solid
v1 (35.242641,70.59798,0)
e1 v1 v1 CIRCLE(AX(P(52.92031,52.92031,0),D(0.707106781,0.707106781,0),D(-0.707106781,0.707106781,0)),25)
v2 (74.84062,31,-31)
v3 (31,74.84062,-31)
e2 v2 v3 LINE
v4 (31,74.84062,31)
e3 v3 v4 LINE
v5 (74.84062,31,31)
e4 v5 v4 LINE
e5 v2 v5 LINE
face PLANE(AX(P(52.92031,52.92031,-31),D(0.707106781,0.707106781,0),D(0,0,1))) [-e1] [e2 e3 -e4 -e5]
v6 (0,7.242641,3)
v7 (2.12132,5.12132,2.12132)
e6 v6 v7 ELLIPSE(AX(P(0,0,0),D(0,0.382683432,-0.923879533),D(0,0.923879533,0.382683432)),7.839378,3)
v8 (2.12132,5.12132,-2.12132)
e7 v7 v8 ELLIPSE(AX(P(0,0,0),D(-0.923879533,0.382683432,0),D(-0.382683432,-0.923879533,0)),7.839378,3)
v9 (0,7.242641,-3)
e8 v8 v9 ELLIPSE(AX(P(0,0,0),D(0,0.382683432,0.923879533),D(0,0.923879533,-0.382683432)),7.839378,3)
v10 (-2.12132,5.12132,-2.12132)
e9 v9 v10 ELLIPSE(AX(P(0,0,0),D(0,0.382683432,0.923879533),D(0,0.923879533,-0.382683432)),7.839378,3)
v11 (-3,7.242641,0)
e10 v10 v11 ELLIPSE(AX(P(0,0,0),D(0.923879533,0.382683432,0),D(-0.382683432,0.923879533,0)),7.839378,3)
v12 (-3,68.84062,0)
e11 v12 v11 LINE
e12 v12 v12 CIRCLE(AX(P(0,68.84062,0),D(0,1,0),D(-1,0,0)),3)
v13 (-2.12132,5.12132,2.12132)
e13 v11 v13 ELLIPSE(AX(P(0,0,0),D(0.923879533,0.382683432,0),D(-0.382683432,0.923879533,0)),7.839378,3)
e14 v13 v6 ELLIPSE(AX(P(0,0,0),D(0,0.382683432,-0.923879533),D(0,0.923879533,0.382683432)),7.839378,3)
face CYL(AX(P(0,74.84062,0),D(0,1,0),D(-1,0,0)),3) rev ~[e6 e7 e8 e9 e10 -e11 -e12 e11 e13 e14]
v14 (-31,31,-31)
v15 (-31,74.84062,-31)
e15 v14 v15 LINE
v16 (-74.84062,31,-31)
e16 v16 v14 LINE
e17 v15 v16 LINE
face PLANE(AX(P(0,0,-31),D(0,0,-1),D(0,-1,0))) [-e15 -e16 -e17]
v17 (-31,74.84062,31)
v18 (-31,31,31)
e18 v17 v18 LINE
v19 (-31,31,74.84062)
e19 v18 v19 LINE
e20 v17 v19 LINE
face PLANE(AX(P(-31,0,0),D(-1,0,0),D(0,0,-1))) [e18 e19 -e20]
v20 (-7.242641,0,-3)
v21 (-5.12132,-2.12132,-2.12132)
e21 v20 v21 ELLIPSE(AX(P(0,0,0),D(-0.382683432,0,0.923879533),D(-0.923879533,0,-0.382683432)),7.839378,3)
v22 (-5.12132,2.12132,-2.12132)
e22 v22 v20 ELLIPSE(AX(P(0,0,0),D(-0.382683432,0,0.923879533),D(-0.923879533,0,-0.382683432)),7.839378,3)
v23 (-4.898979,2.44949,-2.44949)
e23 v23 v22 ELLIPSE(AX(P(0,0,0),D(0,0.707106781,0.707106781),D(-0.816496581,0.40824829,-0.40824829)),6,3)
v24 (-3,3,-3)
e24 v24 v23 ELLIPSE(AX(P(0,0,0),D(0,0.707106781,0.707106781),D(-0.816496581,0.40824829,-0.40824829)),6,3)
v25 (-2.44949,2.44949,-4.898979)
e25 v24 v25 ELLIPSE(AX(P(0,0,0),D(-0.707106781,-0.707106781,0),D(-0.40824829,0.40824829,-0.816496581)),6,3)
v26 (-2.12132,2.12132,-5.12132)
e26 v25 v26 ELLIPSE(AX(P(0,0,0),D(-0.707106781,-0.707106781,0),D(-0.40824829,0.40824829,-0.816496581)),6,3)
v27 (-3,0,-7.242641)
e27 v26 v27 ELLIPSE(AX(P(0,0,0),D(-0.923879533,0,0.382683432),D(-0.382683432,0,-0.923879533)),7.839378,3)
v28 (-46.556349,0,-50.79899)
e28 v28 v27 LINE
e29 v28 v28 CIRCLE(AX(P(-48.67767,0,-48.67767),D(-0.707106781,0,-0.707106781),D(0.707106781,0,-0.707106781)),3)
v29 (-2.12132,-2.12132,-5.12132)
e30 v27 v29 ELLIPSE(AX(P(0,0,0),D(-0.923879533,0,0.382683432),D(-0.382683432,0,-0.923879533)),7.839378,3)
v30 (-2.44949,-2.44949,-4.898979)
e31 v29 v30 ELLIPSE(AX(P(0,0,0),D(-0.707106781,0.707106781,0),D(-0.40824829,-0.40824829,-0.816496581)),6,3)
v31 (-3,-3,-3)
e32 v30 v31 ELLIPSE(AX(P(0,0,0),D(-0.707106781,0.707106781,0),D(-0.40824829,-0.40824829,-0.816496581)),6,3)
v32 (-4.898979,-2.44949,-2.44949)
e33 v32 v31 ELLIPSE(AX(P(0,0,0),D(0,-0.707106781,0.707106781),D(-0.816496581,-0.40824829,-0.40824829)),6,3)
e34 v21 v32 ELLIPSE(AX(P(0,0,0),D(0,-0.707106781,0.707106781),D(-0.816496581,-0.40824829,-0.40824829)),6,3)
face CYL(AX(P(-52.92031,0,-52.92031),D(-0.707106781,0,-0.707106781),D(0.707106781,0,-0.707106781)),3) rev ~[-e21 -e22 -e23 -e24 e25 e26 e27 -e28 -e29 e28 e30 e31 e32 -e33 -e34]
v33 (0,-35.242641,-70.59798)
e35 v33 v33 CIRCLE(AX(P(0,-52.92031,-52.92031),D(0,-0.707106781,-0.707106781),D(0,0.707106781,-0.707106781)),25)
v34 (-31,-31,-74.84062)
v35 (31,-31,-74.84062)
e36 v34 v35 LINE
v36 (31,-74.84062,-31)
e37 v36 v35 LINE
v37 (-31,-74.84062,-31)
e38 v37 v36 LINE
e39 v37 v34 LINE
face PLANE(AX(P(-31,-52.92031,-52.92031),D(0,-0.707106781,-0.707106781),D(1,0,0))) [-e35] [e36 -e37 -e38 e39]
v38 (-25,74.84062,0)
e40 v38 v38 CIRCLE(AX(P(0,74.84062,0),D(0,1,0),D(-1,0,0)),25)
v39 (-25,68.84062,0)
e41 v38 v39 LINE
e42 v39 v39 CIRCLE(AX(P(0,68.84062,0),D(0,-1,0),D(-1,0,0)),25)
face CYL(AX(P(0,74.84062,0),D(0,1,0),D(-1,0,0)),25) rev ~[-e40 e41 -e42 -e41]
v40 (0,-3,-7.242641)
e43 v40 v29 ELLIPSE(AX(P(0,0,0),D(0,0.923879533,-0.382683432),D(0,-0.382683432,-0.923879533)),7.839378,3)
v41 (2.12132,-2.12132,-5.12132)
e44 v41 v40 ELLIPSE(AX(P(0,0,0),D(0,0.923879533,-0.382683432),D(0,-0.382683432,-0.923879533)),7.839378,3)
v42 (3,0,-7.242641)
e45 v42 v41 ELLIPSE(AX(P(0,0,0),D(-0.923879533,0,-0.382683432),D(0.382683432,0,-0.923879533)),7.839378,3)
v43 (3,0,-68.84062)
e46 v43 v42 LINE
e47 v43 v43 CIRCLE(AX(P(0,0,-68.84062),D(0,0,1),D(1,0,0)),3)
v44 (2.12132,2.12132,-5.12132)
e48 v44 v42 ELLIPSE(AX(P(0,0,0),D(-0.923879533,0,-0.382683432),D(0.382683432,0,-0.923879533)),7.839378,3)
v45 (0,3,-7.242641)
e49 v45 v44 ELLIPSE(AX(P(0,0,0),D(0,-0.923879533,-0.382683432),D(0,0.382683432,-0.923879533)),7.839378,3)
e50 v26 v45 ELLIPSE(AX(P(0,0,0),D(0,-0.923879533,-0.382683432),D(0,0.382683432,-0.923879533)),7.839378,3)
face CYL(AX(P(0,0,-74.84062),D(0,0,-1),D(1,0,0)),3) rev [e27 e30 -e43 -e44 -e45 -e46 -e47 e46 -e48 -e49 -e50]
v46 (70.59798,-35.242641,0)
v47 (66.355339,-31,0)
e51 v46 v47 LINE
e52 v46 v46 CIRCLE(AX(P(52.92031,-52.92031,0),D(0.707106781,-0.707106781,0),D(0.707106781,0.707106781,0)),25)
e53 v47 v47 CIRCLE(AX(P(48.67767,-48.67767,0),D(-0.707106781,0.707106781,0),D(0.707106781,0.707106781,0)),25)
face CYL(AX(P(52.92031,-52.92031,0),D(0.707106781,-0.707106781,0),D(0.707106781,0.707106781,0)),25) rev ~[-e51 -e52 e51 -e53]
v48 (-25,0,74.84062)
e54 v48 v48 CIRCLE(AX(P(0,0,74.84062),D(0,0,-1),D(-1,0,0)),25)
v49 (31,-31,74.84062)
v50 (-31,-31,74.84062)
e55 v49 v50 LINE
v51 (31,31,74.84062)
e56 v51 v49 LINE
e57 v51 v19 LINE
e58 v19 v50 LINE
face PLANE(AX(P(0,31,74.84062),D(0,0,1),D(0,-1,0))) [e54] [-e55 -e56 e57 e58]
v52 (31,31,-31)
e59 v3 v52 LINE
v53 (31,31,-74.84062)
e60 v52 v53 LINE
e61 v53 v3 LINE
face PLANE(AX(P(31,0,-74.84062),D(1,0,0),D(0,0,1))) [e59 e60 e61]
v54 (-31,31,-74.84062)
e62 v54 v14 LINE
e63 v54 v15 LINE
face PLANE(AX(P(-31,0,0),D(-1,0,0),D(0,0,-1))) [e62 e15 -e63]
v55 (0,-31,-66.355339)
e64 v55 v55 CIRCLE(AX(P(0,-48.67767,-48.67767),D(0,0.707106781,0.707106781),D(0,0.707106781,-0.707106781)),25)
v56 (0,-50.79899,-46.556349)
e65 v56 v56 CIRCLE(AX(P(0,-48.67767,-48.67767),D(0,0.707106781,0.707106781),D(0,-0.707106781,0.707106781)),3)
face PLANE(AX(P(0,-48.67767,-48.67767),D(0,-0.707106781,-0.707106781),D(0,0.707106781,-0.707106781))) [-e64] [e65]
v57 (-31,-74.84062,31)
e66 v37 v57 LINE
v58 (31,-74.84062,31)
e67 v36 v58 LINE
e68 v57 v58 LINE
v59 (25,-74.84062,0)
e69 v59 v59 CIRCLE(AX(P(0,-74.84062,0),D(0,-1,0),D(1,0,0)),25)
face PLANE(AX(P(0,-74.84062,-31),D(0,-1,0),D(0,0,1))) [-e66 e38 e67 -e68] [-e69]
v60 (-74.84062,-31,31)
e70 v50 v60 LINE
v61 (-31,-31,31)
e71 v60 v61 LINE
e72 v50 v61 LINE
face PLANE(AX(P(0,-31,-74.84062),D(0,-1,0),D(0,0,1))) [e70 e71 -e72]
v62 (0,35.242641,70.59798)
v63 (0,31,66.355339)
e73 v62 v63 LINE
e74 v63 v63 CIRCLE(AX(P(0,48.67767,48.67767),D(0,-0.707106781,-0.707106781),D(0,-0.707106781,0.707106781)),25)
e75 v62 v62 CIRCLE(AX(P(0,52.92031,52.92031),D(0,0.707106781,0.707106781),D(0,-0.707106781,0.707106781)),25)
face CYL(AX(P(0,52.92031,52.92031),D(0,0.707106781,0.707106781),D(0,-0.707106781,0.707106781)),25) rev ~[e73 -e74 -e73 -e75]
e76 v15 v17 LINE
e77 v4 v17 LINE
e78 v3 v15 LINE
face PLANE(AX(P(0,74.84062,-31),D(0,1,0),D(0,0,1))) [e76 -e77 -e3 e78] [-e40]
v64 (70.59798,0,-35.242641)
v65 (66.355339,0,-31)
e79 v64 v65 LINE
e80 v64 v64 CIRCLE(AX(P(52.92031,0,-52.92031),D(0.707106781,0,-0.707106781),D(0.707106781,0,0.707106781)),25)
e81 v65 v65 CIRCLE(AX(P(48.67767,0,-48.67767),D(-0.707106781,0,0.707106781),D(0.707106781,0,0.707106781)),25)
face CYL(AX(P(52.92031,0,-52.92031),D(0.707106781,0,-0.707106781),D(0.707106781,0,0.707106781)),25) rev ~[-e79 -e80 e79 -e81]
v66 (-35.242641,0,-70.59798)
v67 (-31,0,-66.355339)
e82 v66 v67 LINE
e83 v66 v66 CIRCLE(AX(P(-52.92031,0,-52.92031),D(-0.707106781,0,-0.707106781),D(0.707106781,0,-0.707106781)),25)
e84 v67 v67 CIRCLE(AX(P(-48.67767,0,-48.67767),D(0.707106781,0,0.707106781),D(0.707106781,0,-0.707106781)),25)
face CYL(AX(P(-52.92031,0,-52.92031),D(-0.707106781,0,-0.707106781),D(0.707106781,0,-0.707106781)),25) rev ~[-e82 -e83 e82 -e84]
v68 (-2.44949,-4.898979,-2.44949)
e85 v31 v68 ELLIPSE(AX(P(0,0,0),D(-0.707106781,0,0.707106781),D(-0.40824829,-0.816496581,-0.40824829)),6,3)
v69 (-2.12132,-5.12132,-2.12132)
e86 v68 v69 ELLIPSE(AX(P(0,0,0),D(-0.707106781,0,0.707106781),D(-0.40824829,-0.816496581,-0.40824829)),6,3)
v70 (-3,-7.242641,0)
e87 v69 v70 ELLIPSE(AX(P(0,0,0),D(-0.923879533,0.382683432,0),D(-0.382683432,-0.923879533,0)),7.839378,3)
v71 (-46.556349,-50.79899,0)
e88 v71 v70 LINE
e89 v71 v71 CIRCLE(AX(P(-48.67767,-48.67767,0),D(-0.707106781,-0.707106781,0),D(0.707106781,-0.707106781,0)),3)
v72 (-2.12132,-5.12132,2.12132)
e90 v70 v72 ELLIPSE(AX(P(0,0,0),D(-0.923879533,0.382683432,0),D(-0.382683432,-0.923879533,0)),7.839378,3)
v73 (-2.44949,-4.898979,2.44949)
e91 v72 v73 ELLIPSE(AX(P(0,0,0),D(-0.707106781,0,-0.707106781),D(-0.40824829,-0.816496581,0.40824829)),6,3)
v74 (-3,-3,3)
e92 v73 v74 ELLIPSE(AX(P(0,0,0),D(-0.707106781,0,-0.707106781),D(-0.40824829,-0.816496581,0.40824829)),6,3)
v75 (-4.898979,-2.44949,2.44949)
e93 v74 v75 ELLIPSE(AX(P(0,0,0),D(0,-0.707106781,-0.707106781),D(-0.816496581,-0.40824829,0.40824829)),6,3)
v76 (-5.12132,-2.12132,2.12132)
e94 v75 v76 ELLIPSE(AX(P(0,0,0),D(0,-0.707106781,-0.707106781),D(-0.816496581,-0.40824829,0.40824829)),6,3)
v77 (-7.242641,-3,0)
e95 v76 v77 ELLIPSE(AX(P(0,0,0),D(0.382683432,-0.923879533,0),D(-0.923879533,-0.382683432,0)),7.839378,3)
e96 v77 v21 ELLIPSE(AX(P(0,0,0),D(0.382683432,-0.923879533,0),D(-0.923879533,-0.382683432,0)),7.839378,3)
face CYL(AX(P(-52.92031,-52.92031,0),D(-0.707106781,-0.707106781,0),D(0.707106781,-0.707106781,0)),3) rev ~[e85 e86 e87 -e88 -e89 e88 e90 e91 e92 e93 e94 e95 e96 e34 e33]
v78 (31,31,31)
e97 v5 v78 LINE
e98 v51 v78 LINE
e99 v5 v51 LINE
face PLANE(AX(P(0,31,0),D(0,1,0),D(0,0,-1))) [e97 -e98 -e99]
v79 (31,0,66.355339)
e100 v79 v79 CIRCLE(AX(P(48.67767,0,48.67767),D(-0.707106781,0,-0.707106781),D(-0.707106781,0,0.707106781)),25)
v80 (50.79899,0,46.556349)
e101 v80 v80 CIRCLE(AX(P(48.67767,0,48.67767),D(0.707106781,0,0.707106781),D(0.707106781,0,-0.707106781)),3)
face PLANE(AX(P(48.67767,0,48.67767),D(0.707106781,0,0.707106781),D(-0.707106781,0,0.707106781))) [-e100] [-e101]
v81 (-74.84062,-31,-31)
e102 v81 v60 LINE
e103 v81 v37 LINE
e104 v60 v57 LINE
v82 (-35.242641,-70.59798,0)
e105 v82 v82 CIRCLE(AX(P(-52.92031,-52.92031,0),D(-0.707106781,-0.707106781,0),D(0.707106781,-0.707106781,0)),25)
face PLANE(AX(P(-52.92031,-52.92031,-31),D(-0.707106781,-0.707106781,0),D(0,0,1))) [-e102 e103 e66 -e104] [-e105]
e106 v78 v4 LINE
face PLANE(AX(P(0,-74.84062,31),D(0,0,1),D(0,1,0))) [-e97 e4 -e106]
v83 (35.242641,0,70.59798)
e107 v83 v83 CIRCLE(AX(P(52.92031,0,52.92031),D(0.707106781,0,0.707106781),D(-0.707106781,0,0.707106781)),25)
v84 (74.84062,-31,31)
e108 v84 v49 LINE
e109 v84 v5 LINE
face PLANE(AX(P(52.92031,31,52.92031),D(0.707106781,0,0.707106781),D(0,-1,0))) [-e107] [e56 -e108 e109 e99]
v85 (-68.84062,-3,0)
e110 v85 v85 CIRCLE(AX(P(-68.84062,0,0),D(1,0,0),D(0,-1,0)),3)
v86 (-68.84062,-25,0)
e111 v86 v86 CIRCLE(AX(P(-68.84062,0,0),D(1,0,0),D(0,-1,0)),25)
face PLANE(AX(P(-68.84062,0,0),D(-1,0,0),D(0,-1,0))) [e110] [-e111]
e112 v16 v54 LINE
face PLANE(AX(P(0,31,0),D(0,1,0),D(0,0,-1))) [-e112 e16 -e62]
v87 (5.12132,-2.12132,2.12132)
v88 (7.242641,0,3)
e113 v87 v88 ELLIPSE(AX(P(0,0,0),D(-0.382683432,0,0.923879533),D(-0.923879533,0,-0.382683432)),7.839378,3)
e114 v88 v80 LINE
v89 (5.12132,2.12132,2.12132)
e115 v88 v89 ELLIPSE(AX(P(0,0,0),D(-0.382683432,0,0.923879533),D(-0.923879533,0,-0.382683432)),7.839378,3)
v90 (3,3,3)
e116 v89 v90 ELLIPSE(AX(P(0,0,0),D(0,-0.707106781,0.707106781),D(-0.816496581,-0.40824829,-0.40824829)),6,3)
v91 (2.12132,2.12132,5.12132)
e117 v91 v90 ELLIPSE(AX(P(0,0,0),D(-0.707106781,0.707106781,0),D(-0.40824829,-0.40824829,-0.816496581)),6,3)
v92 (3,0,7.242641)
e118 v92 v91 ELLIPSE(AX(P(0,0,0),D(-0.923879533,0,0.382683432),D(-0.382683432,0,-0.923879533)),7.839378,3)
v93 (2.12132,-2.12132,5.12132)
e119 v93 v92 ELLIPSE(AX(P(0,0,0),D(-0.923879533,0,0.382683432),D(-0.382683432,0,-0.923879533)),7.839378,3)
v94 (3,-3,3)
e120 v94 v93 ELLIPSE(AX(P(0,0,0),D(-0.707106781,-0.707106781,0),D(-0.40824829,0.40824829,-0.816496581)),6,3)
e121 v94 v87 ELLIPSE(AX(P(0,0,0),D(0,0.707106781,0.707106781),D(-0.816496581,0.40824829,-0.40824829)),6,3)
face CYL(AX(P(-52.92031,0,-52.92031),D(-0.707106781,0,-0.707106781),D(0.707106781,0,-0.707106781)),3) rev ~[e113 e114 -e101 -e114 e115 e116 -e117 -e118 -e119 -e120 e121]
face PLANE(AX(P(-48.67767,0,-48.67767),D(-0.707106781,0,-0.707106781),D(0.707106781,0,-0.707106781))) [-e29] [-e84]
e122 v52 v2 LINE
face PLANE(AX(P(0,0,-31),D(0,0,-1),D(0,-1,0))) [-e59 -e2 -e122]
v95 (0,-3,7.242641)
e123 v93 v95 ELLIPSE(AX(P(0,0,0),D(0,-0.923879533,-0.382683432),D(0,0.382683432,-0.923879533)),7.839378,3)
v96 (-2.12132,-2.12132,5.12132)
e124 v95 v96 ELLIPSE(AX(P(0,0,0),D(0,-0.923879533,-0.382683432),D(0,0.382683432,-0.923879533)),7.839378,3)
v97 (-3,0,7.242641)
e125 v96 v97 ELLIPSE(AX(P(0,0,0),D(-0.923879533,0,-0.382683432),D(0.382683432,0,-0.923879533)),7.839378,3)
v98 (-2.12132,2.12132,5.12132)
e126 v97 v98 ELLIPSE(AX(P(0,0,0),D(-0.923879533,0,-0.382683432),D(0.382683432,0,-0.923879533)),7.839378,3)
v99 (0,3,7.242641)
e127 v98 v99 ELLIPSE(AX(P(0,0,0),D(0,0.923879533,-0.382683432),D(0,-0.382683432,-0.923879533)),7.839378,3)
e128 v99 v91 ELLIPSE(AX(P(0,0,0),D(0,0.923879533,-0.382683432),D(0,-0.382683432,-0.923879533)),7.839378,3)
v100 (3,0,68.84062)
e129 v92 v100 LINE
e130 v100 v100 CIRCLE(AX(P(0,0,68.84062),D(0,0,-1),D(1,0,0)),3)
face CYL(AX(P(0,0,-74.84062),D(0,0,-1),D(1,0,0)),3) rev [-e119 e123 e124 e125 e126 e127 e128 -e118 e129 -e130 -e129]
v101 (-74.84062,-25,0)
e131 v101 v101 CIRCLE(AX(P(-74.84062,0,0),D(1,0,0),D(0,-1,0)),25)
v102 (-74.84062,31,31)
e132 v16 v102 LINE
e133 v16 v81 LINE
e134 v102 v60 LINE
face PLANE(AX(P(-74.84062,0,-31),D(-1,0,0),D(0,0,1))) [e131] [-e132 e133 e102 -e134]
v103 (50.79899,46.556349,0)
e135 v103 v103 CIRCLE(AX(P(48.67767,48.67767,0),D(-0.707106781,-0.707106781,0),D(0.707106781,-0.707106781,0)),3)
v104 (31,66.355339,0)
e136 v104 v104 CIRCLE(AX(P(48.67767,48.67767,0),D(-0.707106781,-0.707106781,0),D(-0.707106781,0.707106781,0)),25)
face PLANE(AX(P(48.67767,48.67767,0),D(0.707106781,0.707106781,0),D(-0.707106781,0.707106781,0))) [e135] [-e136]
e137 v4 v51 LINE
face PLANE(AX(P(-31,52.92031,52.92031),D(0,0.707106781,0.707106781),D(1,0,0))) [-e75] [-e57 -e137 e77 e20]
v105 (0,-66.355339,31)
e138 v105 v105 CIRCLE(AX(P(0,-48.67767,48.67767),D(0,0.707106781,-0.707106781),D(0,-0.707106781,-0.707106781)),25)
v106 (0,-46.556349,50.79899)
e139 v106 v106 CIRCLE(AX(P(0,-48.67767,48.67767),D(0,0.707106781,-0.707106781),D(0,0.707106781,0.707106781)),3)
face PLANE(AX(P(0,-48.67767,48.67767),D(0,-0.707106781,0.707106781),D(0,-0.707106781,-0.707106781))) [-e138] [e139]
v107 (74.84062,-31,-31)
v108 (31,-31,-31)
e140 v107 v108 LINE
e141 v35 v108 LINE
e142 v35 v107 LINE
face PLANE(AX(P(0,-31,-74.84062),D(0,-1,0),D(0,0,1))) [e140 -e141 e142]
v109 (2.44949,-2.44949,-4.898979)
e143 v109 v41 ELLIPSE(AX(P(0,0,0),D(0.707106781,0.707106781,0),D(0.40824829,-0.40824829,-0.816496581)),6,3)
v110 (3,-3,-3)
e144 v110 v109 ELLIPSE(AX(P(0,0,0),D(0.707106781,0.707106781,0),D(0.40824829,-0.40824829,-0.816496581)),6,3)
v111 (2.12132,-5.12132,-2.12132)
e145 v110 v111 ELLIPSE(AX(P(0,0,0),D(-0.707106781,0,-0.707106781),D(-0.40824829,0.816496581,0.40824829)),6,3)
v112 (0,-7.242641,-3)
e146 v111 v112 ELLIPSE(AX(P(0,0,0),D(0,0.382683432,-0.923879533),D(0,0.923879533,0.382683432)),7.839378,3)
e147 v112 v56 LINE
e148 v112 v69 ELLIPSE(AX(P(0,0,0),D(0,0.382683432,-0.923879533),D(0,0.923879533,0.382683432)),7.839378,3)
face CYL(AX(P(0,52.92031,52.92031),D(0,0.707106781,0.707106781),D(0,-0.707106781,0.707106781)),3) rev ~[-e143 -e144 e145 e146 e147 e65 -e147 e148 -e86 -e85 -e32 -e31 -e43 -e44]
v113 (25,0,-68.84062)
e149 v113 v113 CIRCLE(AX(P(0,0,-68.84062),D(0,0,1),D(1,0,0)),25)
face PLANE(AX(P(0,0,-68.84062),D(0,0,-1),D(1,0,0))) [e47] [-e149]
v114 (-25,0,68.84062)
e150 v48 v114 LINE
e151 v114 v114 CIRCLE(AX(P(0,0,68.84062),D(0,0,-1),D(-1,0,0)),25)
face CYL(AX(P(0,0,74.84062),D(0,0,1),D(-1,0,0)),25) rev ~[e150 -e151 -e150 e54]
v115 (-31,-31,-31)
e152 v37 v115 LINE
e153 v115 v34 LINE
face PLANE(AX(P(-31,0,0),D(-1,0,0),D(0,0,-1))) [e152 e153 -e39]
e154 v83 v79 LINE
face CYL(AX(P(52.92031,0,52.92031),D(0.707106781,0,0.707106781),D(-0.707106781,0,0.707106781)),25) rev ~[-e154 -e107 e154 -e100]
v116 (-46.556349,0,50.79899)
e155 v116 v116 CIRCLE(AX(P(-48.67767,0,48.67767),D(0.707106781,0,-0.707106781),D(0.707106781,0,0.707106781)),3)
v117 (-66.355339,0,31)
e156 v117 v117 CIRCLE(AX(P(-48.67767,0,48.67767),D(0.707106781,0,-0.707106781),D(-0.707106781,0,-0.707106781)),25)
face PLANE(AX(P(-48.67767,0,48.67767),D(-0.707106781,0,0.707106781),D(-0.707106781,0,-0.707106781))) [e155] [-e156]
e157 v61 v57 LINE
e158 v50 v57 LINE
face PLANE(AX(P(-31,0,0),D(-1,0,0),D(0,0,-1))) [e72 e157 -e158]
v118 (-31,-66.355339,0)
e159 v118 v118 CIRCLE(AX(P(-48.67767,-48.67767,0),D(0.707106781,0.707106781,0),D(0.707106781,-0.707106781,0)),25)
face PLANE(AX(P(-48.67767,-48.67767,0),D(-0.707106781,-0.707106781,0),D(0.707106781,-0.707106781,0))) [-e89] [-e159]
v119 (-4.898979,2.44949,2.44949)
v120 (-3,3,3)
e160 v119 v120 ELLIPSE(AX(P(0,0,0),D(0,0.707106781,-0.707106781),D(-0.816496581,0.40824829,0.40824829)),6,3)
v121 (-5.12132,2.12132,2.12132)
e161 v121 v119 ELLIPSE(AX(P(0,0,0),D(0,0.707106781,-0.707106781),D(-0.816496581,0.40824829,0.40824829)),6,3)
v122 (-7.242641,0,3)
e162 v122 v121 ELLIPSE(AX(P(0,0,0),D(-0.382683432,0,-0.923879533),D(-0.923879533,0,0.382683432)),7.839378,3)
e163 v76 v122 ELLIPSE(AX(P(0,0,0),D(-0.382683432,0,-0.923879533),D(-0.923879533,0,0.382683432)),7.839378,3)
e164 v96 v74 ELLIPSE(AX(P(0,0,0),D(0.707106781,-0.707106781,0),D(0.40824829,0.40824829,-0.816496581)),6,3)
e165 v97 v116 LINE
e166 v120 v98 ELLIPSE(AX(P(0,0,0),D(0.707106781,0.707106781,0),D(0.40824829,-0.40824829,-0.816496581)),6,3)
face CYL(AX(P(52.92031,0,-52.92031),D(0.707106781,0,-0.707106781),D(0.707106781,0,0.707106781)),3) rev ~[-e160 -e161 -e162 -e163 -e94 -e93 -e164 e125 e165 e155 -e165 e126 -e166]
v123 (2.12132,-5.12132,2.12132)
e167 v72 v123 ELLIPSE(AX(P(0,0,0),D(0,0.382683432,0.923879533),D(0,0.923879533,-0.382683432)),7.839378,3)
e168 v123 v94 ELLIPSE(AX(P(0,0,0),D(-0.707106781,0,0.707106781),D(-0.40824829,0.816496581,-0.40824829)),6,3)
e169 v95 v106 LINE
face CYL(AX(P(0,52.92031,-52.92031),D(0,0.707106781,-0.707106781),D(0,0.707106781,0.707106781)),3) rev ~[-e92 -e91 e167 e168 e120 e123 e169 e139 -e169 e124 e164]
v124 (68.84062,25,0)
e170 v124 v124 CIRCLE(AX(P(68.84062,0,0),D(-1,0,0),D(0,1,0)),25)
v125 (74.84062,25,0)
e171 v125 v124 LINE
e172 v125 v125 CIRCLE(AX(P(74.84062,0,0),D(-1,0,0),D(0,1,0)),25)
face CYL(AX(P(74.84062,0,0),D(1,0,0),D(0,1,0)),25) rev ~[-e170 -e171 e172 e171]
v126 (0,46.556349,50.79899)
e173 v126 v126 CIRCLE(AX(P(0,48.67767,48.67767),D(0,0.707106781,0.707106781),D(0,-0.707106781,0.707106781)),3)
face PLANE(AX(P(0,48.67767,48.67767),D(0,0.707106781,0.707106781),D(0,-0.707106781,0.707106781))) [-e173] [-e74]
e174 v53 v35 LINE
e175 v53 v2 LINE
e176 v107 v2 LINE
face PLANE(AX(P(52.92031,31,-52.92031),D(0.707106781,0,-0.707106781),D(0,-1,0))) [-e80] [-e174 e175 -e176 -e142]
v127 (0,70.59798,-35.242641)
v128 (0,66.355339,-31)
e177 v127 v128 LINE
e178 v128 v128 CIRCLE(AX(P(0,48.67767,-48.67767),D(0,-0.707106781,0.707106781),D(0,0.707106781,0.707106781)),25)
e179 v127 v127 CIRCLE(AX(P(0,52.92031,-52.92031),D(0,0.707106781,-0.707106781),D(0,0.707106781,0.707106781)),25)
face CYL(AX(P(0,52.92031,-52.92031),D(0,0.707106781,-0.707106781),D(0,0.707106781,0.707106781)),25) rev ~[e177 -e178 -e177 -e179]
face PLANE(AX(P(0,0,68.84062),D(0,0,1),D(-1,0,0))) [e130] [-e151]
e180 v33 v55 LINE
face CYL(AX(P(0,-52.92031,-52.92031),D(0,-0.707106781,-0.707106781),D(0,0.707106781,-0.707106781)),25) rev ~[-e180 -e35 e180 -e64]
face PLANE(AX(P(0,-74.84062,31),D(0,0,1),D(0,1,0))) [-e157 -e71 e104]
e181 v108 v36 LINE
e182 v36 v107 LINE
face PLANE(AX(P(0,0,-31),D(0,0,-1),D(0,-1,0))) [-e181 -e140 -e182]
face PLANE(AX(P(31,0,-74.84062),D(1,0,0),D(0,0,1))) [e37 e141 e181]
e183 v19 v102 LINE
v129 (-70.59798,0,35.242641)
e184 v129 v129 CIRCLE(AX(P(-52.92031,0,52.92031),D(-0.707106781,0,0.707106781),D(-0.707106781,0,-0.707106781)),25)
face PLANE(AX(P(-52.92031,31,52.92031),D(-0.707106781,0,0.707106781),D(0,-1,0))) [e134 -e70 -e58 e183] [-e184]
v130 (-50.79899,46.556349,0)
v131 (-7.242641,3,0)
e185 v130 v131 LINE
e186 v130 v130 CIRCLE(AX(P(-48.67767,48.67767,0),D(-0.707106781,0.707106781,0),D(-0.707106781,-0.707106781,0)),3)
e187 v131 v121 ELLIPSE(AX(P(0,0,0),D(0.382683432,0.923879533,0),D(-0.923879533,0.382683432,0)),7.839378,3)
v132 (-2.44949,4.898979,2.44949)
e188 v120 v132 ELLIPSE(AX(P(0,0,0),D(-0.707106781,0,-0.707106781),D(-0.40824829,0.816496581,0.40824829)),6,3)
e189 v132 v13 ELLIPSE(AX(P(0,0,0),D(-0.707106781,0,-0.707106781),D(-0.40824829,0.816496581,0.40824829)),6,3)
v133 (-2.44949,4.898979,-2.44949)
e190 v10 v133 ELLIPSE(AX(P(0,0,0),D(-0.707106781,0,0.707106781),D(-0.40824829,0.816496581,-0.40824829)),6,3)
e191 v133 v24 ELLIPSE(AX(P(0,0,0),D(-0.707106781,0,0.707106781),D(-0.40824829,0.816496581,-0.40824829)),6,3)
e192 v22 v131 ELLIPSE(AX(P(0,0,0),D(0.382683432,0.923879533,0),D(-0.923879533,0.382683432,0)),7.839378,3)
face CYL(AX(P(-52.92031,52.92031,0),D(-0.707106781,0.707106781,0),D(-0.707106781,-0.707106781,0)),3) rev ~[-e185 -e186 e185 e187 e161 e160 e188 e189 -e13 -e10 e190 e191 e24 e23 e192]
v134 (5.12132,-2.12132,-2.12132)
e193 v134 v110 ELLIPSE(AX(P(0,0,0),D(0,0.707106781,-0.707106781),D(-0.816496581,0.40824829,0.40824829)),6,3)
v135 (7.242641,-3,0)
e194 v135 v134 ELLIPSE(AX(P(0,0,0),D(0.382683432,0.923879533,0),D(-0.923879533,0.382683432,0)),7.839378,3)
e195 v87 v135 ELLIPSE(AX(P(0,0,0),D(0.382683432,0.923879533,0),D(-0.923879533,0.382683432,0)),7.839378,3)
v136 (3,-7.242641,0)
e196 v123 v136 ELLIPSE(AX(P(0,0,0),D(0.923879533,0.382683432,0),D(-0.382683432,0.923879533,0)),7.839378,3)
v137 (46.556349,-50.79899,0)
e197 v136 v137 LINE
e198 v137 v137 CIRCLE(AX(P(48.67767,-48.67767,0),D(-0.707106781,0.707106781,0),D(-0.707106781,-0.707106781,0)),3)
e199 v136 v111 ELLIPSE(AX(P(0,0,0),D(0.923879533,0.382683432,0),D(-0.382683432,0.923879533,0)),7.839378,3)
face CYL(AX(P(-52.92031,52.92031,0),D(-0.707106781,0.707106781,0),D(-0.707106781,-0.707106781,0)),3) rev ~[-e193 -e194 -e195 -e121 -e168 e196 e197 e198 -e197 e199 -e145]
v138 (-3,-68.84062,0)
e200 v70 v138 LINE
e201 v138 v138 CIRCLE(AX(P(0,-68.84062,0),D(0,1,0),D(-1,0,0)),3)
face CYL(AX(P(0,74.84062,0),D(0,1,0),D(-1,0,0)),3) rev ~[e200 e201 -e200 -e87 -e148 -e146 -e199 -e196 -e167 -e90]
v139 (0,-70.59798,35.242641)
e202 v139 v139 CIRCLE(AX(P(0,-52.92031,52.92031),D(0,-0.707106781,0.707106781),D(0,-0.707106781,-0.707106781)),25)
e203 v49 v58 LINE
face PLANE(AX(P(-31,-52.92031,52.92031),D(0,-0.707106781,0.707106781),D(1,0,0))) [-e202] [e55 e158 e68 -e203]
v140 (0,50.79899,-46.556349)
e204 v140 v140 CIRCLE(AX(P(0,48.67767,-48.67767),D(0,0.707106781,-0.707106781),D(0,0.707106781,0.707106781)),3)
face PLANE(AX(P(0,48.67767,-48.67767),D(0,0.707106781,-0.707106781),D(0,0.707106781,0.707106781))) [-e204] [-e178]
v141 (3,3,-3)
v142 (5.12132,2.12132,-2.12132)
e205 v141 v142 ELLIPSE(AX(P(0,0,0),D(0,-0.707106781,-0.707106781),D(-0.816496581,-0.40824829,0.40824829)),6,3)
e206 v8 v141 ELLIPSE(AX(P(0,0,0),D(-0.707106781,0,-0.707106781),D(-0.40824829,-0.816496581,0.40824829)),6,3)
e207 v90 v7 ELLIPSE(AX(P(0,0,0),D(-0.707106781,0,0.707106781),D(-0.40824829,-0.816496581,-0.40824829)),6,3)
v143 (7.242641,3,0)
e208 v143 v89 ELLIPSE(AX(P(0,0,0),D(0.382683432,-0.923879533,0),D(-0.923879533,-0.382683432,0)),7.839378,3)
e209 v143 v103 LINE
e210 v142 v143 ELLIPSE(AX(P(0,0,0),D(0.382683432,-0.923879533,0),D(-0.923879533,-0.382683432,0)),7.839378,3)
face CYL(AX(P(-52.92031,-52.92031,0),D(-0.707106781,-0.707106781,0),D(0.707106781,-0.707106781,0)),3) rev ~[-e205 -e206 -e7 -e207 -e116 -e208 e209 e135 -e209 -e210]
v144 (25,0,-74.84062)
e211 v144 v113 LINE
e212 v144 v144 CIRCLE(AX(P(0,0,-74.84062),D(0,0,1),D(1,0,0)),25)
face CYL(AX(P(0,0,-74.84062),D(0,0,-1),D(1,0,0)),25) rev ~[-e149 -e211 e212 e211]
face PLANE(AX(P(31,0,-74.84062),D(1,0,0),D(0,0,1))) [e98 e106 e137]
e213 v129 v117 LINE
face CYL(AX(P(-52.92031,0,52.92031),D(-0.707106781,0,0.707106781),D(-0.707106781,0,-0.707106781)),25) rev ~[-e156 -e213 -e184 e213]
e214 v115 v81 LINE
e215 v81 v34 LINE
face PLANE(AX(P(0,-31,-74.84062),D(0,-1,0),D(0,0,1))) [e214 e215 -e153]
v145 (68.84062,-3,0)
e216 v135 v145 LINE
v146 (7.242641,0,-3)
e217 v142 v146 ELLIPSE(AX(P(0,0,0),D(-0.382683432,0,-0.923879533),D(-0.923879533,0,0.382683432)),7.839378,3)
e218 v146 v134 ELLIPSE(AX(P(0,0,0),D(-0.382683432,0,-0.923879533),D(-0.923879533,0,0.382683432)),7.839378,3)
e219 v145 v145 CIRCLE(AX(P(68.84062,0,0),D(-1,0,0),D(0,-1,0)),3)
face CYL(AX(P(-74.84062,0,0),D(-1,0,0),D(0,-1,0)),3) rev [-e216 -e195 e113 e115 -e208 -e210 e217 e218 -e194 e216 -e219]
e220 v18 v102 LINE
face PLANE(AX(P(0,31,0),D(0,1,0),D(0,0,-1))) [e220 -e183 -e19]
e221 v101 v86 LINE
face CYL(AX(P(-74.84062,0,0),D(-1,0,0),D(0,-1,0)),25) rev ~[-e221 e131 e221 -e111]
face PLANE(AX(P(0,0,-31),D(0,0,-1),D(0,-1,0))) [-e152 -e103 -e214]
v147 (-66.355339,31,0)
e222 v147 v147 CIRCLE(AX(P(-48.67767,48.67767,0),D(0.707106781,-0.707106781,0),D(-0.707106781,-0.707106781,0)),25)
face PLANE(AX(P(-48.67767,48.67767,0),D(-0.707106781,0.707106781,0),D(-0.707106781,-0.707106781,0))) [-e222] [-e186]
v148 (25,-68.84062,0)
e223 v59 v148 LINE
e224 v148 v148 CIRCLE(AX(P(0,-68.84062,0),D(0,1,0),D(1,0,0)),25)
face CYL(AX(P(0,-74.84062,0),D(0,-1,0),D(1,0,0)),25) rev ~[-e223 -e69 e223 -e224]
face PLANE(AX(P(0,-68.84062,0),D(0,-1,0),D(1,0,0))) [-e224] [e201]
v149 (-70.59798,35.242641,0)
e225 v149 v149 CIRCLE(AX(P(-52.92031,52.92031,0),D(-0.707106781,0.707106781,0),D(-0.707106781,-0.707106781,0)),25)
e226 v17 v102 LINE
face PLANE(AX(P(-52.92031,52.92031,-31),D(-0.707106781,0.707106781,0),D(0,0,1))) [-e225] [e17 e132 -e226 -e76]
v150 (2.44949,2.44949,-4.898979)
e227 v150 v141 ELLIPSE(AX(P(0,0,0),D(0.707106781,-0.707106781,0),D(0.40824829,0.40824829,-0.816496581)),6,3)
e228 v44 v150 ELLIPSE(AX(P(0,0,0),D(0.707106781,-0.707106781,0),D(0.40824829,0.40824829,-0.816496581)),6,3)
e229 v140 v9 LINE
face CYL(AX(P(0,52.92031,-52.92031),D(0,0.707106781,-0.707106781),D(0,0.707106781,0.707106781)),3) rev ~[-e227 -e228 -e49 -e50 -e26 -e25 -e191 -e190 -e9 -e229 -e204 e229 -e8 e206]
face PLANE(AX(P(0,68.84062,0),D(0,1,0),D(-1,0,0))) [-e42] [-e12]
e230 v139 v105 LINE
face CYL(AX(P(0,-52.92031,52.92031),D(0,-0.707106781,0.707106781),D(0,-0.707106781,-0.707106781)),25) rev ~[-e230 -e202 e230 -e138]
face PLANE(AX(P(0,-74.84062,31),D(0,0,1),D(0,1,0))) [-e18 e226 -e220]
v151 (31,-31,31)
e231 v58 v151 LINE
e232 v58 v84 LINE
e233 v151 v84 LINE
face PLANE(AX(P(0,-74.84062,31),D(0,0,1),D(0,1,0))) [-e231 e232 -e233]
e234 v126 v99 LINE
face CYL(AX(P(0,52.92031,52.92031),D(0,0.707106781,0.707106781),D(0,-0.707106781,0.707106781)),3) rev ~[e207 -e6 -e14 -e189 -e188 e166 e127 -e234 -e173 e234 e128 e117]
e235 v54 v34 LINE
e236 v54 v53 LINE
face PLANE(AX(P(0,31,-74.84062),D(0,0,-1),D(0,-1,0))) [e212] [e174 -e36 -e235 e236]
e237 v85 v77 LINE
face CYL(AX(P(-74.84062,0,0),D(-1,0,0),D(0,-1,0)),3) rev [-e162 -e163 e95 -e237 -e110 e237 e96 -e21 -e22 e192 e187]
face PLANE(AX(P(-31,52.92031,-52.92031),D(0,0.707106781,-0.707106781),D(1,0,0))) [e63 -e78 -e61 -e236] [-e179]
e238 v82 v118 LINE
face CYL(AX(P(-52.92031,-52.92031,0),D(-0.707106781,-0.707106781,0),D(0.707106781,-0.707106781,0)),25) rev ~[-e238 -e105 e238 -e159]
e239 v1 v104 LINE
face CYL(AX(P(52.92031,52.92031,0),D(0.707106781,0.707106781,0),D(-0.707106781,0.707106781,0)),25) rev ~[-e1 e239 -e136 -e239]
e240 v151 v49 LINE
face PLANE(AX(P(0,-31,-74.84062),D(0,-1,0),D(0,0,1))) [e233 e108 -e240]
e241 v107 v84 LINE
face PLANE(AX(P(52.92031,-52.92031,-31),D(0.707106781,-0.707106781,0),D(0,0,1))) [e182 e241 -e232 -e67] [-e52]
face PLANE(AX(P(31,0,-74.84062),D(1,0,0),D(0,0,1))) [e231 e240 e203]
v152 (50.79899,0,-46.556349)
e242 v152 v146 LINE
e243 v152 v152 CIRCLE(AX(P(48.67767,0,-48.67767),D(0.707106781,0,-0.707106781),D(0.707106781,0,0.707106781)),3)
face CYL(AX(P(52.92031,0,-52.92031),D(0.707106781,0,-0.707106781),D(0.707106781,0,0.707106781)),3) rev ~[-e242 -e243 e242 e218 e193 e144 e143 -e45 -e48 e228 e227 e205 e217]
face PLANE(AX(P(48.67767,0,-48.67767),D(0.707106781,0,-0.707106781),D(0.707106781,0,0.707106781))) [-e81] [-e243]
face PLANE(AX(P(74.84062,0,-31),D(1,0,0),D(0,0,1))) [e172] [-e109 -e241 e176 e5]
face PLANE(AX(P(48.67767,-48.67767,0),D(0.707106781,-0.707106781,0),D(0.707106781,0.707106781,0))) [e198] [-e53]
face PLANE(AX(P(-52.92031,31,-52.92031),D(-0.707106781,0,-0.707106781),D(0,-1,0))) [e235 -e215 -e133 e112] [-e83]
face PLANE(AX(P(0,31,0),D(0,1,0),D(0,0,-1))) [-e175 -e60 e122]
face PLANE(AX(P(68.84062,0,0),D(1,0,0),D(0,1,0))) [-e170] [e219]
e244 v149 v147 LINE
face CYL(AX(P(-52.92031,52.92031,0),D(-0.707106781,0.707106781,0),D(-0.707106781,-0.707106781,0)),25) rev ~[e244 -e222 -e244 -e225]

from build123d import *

# Parameters (mm, degrees)
F1_DEPTH      = 31
F1_DEPTH_BACK = 31
F2_R          = 25
F2_R_2        = 3
F3_DEPTH      = 6
F4_COUNT      = 8
F5_COUNT      = 2
F5_ANGLE      = 90
F6_COUNT      = 2
F6_ANGLE      = 90
F7_DEPTH      = 180.6822408671
F8_DEPTH      = 149.6822408671
F9_DEPTH      = 180.6822408671
F10_DEPTH     = 149.6822408671
F11_DEPTH     = 180.6822408671
F12_DEPTH     = 149.6822408671
F13_DEPTH     = 180.6822408671
F14_DEPTH     = 180.6822408671
F15_DEPTH     = 180.6822408671


with BuildPart() as f1:
    # F0 (on Front) → F1 (new body, two sides)
    with BuildSketch(Plane.XZ) as f1_sk:
        Polygon((74.8406204336, 31), (0, 31), (0, 0), (0, -31), (74.8406204336, -31), (74.8406204336, 0), align=None)
    extrude(amount=F1_DEPTH)
    extrude(f1_sk.sketch, amount=-F1_DEPTH_BACK)

    # F2 (on face) → F3 (cut)
    with BuildSketch(Plane.YZ.offset(74.8406204336)):
        Circle(F2_R)
        Circle(F2_R_2, mode=Mode.SUBTRACT)
    extrude(amount=-F3_DEPTH, mode=Mode.SUBTRACT)

    # F4: F1 ×8 about axis
    f4_axis = Axis((0, 0, 15.5), (0, 0, 1))


with BuildPart() as f1_1:
    add(f1.part)
    for i in range(1, F4_COUNT):
        add(f1.part.rotate(f4_axis, i * 360 / F4_COUNT))

    # F5: F1 ×2 about axis
    f5_axis = Axis((15.5, 0, 0), (1, 0, 0))


with BuildPart() as f1_2:
    add(f1_1.part)
    for i in range(1, F5_COUNT):
        add(f1_1.part.rotate(f5_axis, i * F5_ANGLE / (F5_COUNT - 1)))

    # F6: F1 ×2 about axis
    f6_axis = Axis((0, 0, 15.5), (0, 0, 1))


with BuildPart() as f1_3:
    add(f1_2.part)
    for i in range(1, F6_COUNT):
        add(f1_2.part.rotate(f6_axis, i * F6_ANGLE / (F6_COUNT - 1)))

    # F7 (cut, through all): a face of the model
    f7_faces = [f1_3.faces().sort_by_distance(p)[0] for p in [
        (-52.9203102168, -52.9203102168, 0),
    ]]
    extrude(f7_faces, amount=-F7_DEPTH, mode=Mode.SUBTRACT)

    # F8 (cut, through all): a face of the model
    f8_faces = [f1_3.faces().sort_by_distance(p)[0] for p in [
        (0, 74.8406204336, 0),
    ]]
    extrude(f8_faces, amount=-F8_DEPTH, mode=Mode.SUBTRACT)

    # F9 (cut, through all): a face of the model
    f9_faces = [f1_3.faces().sort_by_distance(p)[0] for p in [
        (-52.9203102168, 52.9203102168, 0),
    ]]
    extrude(f9_faces, amount=-F9_DEPTH, mode=Mode.SUBTRACT)

    # F10 (cut, through all): a face of the model
    f10_faces = [f1_3.faces().sort_by_distance(p)[0] for p in [
        (-74.8406204336, 0, 0),
    ]]
    extrude(f10_faces, amount=-F10_DEPTH, mode=Mode.SUBTRACT)

    # F11 (cut, through all): a face of the model
    f11_faces = [f1_3.faces().sort_by_distance(p)[0] for p in [
        (-52.9203102168, 0, -52.9203102168),
    ]]
    extrude(f11_faces, amount=-F11_DEPTH, mode=Mode.SUBTRACT)

    # F12 (cut, through all): a face of the model
    f12_faces = [f1_3.faces().sort_by_distance(p)[0] for p in [
        (0, 0, -74.8406204336),
    ]]
    extrude(f12_faces, amount=-F12_DEPTH, mode=Mode.SUBTRACT)

    # F13 (cut, through all): a face of the model
    f13_faces = [f1_3.faces().sort_by_distance(p)[0] for p in [
        (52.9203102168, 0, -52.9203102168),
    ]]
    extrude(f13_faces, amount=-F13_DEPTH, mode=Mode.SUBTRACT)

    # F14 (cut, through all): a face of the model
    f14_faces = [f1_3.faces().sort_by_distance(p)[0] for p in [
        (0, 52.9203102168, -52.9203102168),
    ]]
    extrude(f14_faces, amount=-F14_DEPTH, mode=Mode.SUBTRACT)

    # F15 (cut, through all): a face of the model
    f15_faces = [f1_3.faces().sort_by_distance(p)[0] for p in [
        (0, 52.9203102168, 52.9203102168),
    ]]
    extrude(f15_faces, amount=-F15_DEPTH, mode=Mode.SUBTRACT)


solid = f1_3.part
